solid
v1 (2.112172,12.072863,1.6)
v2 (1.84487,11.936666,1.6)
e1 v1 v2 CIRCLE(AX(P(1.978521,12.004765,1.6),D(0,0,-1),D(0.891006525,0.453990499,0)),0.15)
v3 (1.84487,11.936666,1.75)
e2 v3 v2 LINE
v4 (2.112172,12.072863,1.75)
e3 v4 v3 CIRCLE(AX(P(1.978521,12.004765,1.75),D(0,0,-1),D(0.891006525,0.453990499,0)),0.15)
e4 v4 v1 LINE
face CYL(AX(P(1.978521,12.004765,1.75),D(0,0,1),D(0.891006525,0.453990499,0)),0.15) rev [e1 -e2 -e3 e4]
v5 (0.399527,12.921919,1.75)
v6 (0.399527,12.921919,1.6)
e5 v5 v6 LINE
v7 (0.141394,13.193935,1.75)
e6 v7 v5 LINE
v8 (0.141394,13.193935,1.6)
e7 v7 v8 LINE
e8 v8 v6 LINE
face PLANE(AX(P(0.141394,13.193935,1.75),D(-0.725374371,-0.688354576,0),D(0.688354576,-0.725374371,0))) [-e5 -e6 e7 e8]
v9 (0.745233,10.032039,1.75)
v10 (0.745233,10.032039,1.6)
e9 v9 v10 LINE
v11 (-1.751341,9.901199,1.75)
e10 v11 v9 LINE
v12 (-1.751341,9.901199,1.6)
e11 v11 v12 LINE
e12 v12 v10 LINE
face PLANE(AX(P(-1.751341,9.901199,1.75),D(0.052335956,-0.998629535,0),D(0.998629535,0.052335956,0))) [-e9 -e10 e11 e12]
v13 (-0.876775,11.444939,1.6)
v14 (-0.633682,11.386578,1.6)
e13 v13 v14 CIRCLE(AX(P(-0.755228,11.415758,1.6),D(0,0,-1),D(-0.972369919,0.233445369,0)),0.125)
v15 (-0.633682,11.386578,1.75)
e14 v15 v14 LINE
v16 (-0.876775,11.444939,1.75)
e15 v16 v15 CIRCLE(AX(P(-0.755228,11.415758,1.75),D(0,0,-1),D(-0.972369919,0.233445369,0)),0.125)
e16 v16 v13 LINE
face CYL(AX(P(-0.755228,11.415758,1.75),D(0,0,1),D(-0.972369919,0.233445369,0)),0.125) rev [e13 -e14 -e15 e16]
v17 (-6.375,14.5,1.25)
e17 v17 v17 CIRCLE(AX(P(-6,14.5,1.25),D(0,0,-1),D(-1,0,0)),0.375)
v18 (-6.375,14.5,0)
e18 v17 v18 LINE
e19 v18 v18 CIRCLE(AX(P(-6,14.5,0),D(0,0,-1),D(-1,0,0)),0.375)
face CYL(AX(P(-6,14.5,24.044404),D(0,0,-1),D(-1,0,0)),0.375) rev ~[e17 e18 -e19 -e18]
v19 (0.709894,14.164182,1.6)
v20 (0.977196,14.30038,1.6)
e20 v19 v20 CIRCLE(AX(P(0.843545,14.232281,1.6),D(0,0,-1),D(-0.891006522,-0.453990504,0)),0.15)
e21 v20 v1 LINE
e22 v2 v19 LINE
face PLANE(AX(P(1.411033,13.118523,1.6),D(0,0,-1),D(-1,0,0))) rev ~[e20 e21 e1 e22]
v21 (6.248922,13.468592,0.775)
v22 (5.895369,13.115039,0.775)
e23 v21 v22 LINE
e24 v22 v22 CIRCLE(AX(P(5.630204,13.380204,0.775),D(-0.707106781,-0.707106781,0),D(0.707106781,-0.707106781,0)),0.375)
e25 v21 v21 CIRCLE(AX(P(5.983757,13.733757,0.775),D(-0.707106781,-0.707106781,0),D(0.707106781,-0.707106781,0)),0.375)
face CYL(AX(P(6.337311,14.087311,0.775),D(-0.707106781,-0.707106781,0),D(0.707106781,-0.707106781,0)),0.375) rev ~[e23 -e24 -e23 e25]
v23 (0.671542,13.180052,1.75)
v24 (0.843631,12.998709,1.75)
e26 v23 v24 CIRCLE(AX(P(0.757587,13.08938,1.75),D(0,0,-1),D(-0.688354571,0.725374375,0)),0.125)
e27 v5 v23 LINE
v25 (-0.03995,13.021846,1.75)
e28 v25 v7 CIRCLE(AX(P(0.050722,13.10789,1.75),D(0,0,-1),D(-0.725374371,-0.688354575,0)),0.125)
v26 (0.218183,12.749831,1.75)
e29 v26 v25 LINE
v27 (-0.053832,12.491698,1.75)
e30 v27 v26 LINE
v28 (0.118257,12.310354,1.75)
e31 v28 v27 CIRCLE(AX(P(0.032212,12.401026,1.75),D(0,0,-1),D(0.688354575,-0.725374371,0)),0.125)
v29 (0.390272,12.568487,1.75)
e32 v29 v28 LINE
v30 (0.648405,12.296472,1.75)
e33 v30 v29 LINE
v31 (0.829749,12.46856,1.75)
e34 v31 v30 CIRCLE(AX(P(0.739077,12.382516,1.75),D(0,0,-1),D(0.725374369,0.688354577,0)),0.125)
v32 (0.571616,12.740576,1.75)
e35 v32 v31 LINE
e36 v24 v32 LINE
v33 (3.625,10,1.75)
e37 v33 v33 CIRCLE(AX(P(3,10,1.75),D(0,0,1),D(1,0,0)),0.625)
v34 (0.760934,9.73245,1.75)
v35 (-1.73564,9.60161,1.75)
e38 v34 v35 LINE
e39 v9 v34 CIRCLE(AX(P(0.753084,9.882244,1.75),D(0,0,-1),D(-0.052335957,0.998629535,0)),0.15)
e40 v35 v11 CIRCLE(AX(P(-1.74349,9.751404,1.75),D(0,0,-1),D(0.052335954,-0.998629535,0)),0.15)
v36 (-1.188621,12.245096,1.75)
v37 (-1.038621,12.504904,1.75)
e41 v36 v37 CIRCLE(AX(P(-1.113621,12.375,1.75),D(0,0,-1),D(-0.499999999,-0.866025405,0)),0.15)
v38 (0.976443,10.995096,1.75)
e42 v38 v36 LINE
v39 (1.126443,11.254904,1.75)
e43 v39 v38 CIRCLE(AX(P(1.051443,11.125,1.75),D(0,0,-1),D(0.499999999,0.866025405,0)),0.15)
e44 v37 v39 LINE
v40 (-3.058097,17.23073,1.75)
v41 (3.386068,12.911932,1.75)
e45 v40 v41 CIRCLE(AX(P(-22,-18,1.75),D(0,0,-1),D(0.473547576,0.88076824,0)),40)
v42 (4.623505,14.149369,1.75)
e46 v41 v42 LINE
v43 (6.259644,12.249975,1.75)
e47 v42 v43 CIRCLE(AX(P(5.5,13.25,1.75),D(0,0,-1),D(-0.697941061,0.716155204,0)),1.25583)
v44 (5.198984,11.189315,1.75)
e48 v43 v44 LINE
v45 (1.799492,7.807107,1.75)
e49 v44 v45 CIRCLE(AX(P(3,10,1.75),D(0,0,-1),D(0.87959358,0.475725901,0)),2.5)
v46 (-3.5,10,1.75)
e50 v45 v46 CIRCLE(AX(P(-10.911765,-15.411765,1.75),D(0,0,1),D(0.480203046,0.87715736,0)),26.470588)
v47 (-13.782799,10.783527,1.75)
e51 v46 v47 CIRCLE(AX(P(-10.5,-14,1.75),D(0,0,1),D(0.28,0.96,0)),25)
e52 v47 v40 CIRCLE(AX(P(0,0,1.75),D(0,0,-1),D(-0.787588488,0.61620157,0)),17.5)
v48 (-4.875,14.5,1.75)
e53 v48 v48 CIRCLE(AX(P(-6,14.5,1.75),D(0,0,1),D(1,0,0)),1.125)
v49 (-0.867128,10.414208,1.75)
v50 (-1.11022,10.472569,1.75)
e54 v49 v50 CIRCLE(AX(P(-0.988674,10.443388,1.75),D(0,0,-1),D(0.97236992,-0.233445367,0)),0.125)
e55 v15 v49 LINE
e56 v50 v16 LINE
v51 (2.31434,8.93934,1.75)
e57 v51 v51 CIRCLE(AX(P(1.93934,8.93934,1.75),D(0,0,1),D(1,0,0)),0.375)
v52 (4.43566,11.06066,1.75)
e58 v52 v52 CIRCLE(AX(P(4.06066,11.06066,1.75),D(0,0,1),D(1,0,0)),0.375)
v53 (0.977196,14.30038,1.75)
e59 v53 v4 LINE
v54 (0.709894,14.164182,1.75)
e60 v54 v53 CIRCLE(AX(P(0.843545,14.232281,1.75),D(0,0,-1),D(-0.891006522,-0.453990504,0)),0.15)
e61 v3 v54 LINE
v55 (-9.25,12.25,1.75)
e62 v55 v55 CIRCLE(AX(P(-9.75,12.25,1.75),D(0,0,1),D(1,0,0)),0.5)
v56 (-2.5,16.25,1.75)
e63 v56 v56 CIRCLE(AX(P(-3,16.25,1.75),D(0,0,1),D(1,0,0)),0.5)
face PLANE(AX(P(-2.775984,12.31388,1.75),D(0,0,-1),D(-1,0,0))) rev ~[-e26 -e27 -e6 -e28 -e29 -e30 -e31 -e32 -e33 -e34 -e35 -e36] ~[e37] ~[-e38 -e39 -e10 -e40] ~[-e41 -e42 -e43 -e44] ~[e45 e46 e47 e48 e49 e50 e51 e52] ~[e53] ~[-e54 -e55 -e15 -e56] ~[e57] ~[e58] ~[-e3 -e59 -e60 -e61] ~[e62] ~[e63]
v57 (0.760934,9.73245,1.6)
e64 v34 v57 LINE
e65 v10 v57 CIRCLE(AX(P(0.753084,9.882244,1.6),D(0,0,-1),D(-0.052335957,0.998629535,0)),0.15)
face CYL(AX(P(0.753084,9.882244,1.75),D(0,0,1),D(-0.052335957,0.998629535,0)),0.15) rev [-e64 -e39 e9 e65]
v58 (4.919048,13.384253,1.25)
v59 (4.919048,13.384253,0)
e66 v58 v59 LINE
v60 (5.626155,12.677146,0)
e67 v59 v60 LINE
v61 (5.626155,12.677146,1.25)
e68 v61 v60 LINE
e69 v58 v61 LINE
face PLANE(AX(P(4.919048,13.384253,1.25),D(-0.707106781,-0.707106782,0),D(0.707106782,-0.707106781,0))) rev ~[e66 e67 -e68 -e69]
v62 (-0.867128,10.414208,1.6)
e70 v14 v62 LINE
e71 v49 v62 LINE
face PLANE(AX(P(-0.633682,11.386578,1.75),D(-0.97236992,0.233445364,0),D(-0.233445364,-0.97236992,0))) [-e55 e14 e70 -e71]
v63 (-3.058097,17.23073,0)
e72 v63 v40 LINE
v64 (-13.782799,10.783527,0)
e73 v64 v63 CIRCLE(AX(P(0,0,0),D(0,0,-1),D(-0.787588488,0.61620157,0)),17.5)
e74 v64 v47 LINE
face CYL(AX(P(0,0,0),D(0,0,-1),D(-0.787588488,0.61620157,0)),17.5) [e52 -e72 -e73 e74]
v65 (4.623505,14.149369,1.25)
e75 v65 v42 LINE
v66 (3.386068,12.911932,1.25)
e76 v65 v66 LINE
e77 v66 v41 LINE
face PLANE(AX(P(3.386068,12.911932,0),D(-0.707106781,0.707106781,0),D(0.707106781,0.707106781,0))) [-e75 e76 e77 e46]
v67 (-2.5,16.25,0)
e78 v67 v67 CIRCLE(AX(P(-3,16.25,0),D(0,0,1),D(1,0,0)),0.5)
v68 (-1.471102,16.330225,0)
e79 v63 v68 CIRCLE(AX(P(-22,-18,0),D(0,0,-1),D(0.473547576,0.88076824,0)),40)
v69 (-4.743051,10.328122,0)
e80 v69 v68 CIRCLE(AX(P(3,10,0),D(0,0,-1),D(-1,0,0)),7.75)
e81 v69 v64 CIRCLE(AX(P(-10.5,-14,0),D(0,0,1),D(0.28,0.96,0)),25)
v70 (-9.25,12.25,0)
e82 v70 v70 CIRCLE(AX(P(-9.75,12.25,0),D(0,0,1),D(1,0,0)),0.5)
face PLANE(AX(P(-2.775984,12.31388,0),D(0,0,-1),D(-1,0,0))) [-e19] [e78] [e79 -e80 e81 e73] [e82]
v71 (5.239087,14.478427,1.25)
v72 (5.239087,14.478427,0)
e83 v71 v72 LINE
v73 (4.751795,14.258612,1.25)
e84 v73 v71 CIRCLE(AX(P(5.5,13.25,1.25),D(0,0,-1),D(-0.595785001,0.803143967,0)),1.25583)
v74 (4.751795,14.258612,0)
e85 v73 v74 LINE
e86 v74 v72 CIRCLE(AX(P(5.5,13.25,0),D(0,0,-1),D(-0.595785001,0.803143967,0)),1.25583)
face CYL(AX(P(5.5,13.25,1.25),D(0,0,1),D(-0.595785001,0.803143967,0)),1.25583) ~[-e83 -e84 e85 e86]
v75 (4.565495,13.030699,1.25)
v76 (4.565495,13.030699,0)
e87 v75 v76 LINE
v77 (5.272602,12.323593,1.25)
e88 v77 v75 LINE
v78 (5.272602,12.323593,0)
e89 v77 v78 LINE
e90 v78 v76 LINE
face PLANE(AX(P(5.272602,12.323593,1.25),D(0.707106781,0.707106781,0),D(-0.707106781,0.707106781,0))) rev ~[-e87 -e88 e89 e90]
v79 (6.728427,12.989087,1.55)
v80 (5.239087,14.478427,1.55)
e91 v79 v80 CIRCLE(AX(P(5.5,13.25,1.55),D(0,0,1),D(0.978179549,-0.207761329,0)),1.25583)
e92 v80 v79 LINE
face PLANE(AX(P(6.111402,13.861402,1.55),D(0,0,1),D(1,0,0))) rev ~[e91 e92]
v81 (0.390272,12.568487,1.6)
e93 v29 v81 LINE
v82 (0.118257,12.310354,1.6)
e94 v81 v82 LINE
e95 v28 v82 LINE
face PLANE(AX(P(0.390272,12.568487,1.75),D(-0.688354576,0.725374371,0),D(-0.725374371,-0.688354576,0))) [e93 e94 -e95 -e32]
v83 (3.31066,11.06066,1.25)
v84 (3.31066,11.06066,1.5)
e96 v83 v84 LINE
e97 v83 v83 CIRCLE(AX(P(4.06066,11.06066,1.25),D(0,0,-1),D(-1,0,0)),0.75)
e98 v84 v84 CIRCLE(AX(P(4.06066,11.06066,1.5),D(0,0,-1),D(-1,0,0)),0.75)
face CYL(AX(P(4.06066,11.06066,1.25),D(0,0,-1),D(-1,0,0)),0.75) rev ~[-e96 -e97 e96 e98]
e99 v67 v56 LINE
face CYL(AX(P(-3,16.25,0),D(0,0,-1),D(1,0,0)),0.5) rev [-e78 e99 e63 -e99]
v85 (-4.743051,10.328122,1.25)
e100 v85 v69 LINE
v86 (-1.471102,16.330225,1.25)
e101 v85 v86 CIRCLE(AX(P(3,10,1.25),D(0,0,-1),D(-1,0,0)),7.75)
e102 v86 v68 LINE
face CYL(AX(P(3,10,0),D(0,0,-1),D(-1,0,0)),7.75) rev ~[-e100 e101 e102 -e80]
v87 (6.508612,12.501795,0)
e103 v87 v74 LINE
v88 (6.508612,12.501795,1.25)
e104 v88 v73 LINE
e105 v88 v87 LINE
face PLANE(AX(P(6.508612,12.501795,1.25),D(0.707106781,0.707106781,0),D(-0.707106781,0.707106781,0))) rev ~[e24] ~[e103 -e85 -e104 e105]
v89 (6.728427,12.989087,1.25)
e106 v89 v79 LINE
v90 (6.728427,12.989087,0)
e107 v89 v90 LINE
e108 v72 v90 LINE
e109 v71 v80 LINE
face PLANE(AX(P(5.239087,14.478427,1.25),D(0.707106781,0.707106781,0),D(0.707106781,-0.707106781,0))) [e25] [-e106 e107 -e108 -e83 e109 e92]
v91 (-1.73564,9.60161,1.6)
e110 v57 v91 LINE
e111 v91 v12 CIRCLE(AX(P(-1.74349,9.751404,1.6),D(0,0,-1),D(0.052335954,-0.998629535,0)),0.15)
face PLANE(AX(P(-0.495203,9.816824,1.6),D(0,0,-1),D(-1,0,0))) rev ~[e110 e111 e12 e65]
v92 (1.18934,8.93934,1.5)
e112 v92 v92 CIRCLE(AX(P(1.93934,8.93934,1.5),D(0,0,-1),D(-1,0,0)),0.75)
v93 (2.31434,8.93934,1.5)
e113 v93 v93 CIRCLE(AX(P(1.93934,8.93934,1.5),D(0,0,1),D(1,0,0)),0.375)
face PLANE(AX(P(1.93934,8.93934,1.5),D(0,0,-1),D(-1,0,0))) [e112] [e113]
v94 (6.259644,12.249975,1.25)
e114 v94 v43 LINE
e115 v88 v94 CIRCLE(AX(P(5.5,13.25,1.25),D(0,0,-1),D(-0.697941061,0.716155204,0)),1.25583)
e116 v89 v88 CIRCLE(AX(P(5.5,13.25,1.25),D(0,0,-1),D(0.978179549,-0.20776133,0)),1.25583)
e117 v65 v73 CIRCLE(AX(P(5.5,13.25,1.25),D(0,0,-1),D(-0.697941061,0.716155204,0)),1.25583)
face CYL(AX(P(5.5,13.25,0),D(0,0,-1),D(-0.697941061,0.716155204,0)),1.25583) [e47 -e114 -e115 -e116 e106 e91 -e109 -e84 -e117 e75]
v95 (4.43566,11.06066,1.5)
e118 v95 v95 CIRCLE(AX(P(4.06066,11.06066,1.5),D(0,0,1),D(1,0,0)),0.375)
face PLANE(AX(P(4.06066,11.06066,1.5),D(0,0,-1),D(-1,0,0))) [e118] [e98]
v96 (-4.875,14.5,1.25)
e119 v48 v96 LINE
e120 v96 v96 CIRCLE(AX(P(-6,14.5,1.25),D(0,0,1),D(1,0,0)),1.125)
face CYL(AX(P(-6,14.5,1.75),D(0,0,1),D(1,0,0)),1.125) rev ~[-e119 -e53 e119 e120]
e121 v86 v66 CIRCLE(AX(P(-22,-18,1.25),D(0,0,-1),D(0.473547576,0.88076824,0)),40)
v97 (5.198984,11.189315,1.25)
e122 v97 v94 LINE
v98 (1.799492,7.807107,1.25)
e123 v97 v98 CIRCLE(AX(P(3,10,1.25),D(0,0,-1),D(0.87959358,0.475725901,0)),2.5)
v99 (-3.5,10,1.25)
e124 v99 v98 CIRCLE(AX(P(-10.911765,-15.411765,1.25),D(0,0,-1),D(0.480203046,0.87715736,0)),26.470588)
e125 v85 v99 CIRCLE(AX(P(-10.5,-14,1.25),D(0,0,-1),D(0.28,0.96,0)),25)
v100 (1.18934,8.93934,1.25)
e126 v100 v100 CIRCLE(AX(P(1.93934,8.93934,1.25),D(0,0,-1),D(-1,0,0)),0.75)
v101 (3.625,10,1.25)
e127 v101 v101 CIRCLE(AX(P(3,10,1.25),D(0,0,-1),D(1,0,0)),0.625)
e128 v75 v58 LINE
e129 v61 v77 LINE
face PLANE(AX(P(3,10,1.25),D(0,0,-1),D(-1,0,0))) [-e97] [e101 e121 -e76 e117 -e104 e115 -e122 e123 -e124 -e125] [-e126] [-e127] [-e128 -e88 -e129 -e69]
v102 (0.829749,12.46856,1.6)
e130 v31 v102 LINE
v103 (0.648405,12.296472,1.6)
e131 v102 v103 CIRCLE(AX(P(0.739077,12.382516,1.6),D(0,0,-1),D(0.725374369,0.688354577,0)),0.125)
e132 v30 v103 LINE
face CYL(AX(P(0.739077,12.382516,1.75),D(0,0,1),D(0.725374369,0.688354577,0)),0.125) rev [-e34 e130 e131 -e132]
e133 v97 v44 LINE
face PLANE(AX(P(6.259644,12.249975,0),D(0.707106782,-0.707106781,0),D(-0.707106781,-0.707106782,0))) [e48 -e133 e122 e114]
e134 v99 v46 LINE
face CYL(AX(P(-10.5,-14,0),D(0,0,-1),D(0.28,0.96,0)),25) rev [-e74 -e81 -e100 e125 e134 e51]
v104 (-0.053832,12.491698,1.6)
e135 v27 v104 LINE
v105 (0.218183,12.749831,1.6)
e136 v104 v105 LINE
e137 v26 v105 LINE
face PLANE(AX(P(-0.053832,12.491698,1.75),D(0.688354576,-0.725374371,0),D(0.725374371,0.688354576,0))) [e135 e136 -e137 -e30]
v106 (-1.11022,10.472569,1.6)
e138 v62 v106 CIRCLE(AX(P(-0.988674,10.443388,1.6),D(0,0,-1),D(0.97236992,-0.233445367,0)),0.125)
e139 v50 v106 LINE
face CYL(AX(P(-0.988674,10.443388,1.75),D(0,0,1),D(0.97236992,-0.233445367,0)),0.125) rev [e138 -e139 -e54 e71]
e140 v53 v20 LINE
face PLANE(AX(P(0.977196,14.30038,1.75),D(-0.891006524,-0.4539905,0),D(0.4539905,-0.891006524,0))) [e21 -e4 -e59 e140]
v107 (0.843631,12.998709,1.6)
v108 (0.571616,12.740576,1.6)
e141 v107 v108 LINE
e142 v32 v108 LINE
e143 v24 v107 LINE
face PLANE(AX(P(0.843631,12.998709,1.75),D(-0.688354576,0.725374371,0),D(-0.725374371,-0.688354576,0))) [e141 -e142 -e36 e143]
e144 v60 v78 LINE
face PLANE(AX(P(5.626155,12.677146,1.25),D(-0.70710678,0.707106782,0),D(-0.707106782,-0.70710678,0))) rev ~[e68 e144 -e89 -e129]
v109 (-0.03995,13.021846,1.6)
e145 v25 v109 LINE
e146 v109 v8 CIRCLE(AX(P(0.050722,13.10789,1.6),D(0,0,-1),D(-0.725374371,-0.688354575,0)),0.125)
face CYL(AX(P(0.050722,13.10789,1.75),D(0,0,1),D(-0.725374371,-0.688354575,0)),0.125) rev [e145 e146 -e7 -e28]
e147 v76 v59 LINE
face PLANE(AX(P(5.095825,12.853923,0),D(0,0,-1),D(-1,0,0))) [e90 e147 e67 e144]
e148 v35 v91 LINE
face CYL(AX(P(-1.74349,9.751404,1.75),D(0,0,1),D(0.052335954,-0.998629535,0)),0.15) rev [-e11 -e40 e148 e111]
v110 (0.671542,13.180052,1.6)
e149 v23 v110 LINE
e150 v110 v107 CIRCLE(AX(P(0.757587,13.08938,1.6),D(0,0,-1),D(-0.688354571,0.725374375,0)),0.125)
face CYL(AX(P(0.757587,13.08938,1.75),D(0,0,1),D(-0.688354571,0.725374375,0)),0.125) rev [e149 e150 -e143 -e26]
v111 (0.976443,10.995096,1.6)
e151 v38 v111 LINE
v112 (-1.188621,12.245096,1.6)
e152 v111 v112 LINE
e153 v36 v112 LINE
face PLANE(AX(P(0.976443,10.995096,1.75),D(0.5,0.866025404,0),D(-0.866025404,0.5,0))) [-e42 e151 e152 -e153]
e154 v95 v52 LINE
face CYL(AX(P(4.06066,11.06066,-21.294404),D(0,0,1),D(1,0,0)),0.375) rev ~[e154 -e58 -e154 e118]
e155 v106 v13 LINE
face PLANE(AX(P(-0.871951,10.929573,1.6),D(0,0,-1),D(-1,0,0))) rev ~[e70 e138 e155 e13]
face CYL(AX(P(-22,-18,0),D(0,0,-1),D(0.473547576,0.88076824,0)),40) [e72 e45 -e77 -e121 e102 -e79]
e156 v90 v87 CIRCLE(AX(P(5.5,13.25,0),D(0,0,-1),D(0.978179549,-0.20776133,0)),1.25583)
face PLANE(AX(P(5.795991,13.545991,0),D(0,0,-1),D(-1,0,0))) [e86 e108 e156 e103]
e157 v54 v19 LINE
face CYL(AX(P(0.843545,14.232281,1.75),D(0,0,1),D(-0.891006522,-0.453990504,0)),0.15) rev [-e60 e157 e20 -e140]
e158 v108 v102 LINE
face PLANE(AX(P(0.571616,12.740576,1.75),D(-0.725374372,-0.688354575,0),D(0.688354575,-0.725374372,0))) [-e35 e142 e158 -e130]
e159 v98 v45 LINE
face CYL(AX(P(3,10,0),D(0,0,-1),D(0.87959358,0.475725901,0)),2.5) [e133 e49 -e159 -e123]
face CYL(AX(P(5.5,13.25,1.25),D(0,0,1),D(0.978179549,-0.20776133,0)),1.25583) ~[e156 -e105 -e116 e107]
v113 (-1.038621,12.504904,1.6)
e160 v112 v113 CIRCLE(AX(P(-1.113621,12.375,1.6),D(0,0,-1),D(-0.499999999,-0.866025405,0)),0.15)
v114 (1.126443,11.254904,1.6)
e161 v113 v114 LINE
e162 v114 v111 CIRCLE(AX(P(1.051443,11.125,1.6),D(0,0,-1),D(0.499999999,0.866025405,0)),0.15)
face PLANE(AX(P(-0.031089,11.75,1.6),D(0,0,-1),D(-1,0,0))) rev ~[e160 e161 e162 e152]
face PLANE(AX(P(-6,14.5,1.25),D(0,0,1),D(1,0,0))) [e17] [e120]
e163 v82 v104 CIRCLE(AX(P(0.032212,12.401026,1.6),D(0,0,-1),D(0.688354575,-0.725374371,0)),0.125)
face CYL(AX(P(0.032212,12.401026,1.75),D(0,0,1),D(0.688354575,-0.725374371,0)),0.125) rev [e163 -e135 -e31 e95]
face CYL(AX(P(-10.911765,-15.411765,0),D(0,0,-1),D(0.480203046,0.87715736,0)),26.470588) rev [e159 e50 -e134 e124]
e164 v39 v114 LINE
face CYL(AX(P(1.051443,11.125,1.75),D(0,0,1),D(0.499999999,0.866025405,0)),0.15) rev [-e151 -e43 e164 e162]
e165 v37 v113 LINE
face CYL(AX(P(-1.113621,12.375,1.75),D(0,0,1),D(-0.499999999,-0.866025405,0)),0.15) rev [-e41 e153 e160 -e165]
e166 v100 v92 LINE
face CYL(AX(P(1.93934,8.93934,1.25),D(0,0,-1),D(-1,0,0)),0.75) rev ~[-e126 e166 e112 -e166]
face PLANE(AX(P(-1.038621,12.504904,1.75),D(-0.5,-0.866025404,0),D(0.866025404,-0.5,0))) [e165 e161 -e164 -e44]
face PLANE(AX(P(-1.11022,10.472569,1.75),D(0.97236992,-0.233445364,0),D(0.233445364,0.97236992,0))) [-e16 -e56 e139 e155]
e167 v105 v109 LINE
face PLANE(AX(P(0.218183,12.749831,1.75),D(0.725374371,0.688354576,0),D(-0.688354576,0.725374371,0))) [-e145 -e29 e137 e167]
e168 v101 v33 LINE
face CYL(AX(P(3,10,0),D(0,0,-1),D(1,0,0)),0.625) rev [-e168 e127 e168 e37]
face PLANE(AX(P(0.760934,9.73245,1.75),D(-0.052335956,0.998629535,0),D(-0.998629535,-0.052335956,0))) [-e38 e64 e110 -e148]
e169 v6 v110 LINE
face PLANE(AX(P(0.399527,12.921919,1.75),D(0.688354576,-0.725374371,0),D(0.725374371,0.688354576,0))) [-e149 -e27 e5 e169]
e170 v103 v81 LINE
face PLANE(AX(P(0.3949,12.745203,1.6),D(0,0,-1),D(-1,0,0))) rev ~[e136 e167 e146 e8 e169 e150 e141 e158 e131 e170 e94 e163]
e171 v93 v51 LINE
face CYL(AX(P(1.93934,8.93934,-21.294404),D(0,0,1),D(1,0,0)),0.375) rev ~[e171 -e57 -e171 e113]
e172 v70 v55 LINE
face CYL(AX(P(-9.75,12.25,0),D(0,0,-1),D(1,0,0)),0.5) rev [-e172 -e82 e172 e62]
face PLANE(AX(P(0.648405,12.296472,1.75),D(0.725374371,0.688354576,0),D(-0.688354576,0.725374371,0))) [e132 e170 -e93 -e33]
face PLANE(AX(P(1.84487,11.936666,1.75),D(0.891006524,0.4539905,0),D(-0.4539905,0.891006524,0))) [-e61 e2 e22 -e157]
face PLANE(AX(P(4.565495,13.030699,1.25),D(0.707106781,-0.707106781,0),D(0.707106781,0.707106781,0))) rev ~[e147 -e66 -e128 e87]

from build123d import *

# Parameters (mm, degrees)
CROQUIS1_R                 = 0.625
CROQUIS1_R_2               = 0.5
SALIENTE_EXTRUIR1_DEPTH    = 1.75
CROQUIS2_R                 = 7.75
CORTAR_EXTRUIR1_DEPTH      = 1.25
SALIENTE_EXTRUIR2_DEPTH    = 1.25
CORTAR_EXTRUIR2_DEPTH      = 0.3
CROQUIS5_R                 = 0.75
CORTAR_EXTRUIR3_DEPTH      = 0.25
CROQUIS7_R                 = 1.125
CORTAR_EXTRUIR4_DEPTH      = 0.5
CORTAR_EXTRUIR5_DEPTH      = 0.15
M1X0_25_TAPPED_HOLE1_D     = 0.75
M1X0_25_TAPPED_HOLE2_D     = 0.75
M1X0_25_TAPPED_HOLE3_D     = 0.75
M1X0_25_TAPPED_HOLE3_DEPTH = 0.5


with BuildPart() as part:
    # Croquis1 → Saliente-Extruir1 (new body)
    with BuildSketch(Plane.XY):
        with BuildLine():
            Line((6.259644122, 12.249974926), (5.198983951, 11.189314754))
            ThreePointArc((5.198983951, 11.189314754), (4.763256008, 8.227733584), (1.799492386, 7.807106599))
            ThreePointArc((1.799492386, 7.807106599), (-0.79068784, 9.047504388), (-3.5, 10))
            ThreePointArc((-3.5, 10), (-8.600559157, 10.927738054), (-13.78279853, 10.783527469))
            ThreePointArc((-13.78279853, 10.783527469), (-9.016404165, 14.998481788), (-3.058096956, 17.230729613))
            ThreePointArc((-3.058096956, 17.230729613), (0.268930152, 15.227921239), (3.386067713, 12.911932422))
            Line((3.386067713, 12.911932422), (4.62350458, 14.14936929))
            ThreePointArc((4.62350458, 14.14936929), (6.451492666, 14.069616403), (6.259644122, 12.249974926))
        make_face()
        with Locations((3, 10)):
            Circle(CROQUIS1_R, mode=Mode.SUBTRACT)
        with Locations((-3, 16.25)):
            Circle(CROQUIS1_R_2, mode=Mode.SUBTRACT)
        with Locations((-9.75, 12.25)):
            Circle(CROQUIS1_R_2, mode=Mode.SUBTRACT)
    extrude(amount=SALIENTE_EXTRUIR1_DEPTH)

    # Croquis2 → Cortar-Extruir1 (cut)
    with BuildSketch(Plane(origin=(0, 0, 0), x_dir=(-1, 0, 0), z_dir=(0, 0, -1))):
        with Locations((-3, 10)):
            Circle(CROQUIS2_R)
    extrude(amount=-CORTAR_EXTRUIR1_DEPTH, mode=Mode.SUBTRACT)

    # Croquis3 → Saliente-Extruir2 (add)
    with BuildSketch(Plane(origin=(0, 0, 1.25), x_dir=(-1, 0, 0), z_dir=(0, 0, -1))):
        Polygon((-5.272601551, 12.323592527), (-4.56549477, 13.030699308), (-4.91904816, 13.384252698), (-5.626154942, 12.677145917), align=None)
        with BuildLine():
            Line((-6.508612401, 12.501795239), (-4.751795239, 14.258612401))
            ThreePointArc((-4.751795239, 14.258612401), (-4.983609366, 14.394748904), (-5.239087061, 14.47842736))
            Line((-5.239087061, 14.47842736), (-6.72842736, 12.989087061))
            ThreePointArc((-6.72842736, 12.989087061), (-6.644748904, 12.733609366), (-6.508612401, 12.501795239))
        make_face()
    extrude(amount=SALIENTE_EXTRUIR2_DEPTH)

    # Croquis4 → Cortar-Extruir2 (cut)
    with BuildSketch(Plane(origin=(0, 0, 1.25), x_dir=(-1, 0, 0), z_dir=(0, 0, -1))):
        with BuildLine():
            Line((-5.239087061, 14.47842736), (-6.72842736, 12.989087061))
            ThreePointArc((-6.72842736, 12.989087061), (-6.388006008, 14.138006008), (-5.239087061, 14.47842736))
        make_face()
    extrude(amount=-CORTAR_EXTRUIR2_DEPTH, mode=Mode.SUBTRACT)

    # Croquis5 → Cortar-Extruir3 (cut)
    with BuildSketch(Plane(origin=(0, 0, 1.25), x_dir=(-1, 0, 0), z_dir=(0, 0, -1))):
        with Locations((-4.060660172, 11.060660172)):
            Circle(CROQUIS5_R)
        with Locations((-1.939339828, 8.939339828)):
            Circle(CROQUIS5_R)
    extrude(amount=-CORTAR_EXTRUIR3_DEPTH, mode=Mode.SUBTRACT)

    # Croquis7 → Cortar-Extruir4 (cut)
    with BuildSketch(Plane.XY.offset(1.75)):
        with Locations((-6, 14.5)):
            Circle(CROQUIS7_R)
    extrude(amount=-CORTAR_EXTRUIR4_DEPTH, mode=Mode.SUBTRACT)

    # Croquis8 → Cortar-Extruir5 (cut)
    with BuildSketch(Plane.XY.offset(1.75)):
        with BuildLine():
            Line((0.977196105, 14.300379565), (2.112172354, 12.072863254))
            ThreePointArc((2.112172354, 12.072863254), (2.046619951, 11.871113701), (1.844870397, 11.936666104))
            Line((1.844870397, 11.936666104), (0.709894148, 14.164182415))
            ThreePointArc((0.709894148, 14.164182415), (0.775446551, 14.365931969), (0.977196105, 14.300379565))
        make_face()
        with BuildLine():
            Line((0.76093394, 9.732449668), (-1.735639897, 9.601609778))
            ThreePointArc((-1.735639897, 9.601609778), (-1.89328472, 9.743553814), (-1.751340684, 9.901198638))
            Line((-1.751340684, 9.901198638), (0.745233153, 10.032038529))
            ThreePointArc((0.745233153, 10.032038529), (0.902877977, 9.890094492), (0.76093394, 9.732449668))
        make_face()
        with BuildLine():
            Line((-1.038620668, 12.504903811), (1.126442841, 11.254903811))
            ThreePointArc((1.126442841, 11.254903811), (1.181346652, 11.05), (0.976442841, 10.995096189))
            Line((0.976442841, 10.995096189), (-1.188620668, 12.245096189))
            ThreePointArc((-1.188620668, 12.245096189), (-1.243524479, 12.45), (-1.038620668, 12.504903811))
        make_face()
        with BuildLine():
            Line((-0.633682247, 11.386577522), (-0.867127611, 10.414207601))
            ThreePointArc((-0.867127611, 10.414207601), (-1.017854522, 10.321842032), (-1.110220091, 10.472568942))
            Line((-1.110220091, 10.472568942), (-0.876774727, 11.444938863))
            ThreePointArc((-0.876774727, 11.444938863), (-0.726047817, 11.537304432), (-0.633682247, 11.386577522))
        make_face()
        with BuildLine():
            Line((-0.053831977, 12.491697608), (0.218183412, 12.749830574))
            Line((0.218183412, 12.749830574), (-0.039949554, 13.021845963))
            ThreePointArc((-0.039949554, 13.021845963), (-0.03532208, 13.198562081), (0.141394039, 13.193934607))
            Line((0.141394039, 13.193934607), (0.399527005, 12.921919218))
            Line((0.399527005, 12.921919218), (0.671542394, 13.180052184))
            ThreePointArc((0.671542394, 13.180052184), (0.848258512, 13.175424709), (0.843631038, 12.998708591))
            Line((0.843631038, 12.998708591), (0.571615649, 12.740575625))
            Line((0.571615649, 12.740575625), (0.829748614, 12.468560236))
            ThreePointArc((0.829748614, 12.468560236), (0.82512114, 12.291844118), (0.648405022, 12.296471592))
            Line((0.648405022, 12.296471592), (0.390272056, 12.568486981))
            Line((0.390272056, 12.568486981), (0.118256667, 12.310354015))
            ThreePointArc((0.118256667, 12.310354015), (-0.058459452, 12.31498149), (-0.053831977, 12.491697608))
        make_face()
    extrude(amount=-CORTAR_EXTRUIR5_DEPTH, mode=Mode.SUBTRACT)

    # M1x0.25 Tapped Hole1 (through all)
    with Locations(Plane(origin=(0, 0, 1.5), x_dir=(-1, 0, 0), z_dir=(0, 0, -1))):
        with Locations((-1.939339828, 8.939339828), (-4.060660172, 11.060660172)):
            Hole(M1X0_25_TAPPED_HOLE1_D / 2)

    # M1x0.25 Tapped Hole2 (through all)
    with Locations(Plane.XY.offset(1.25)):
        with Locations((-6, 14.5)):
            Hole(M1X0_25_TAPPED_HOLE2_D / 2)

    # M1x0.25 Tapped Hole3
    with Locations(Plane(origin=(9.858757211, 9.858757211, 0), x_dir=(-0.707106781, 0.707106781, 0), z_dir=(0.707106781, 0.707106781, 0))):
        with Locations((5.480077554, 0.775)):
            Hole(M1X0_25_TAPPED_HOLE3_D / 2, depth=M1X0_25_TAPPED_HOLE3_DEPTH)


solid = part.part
